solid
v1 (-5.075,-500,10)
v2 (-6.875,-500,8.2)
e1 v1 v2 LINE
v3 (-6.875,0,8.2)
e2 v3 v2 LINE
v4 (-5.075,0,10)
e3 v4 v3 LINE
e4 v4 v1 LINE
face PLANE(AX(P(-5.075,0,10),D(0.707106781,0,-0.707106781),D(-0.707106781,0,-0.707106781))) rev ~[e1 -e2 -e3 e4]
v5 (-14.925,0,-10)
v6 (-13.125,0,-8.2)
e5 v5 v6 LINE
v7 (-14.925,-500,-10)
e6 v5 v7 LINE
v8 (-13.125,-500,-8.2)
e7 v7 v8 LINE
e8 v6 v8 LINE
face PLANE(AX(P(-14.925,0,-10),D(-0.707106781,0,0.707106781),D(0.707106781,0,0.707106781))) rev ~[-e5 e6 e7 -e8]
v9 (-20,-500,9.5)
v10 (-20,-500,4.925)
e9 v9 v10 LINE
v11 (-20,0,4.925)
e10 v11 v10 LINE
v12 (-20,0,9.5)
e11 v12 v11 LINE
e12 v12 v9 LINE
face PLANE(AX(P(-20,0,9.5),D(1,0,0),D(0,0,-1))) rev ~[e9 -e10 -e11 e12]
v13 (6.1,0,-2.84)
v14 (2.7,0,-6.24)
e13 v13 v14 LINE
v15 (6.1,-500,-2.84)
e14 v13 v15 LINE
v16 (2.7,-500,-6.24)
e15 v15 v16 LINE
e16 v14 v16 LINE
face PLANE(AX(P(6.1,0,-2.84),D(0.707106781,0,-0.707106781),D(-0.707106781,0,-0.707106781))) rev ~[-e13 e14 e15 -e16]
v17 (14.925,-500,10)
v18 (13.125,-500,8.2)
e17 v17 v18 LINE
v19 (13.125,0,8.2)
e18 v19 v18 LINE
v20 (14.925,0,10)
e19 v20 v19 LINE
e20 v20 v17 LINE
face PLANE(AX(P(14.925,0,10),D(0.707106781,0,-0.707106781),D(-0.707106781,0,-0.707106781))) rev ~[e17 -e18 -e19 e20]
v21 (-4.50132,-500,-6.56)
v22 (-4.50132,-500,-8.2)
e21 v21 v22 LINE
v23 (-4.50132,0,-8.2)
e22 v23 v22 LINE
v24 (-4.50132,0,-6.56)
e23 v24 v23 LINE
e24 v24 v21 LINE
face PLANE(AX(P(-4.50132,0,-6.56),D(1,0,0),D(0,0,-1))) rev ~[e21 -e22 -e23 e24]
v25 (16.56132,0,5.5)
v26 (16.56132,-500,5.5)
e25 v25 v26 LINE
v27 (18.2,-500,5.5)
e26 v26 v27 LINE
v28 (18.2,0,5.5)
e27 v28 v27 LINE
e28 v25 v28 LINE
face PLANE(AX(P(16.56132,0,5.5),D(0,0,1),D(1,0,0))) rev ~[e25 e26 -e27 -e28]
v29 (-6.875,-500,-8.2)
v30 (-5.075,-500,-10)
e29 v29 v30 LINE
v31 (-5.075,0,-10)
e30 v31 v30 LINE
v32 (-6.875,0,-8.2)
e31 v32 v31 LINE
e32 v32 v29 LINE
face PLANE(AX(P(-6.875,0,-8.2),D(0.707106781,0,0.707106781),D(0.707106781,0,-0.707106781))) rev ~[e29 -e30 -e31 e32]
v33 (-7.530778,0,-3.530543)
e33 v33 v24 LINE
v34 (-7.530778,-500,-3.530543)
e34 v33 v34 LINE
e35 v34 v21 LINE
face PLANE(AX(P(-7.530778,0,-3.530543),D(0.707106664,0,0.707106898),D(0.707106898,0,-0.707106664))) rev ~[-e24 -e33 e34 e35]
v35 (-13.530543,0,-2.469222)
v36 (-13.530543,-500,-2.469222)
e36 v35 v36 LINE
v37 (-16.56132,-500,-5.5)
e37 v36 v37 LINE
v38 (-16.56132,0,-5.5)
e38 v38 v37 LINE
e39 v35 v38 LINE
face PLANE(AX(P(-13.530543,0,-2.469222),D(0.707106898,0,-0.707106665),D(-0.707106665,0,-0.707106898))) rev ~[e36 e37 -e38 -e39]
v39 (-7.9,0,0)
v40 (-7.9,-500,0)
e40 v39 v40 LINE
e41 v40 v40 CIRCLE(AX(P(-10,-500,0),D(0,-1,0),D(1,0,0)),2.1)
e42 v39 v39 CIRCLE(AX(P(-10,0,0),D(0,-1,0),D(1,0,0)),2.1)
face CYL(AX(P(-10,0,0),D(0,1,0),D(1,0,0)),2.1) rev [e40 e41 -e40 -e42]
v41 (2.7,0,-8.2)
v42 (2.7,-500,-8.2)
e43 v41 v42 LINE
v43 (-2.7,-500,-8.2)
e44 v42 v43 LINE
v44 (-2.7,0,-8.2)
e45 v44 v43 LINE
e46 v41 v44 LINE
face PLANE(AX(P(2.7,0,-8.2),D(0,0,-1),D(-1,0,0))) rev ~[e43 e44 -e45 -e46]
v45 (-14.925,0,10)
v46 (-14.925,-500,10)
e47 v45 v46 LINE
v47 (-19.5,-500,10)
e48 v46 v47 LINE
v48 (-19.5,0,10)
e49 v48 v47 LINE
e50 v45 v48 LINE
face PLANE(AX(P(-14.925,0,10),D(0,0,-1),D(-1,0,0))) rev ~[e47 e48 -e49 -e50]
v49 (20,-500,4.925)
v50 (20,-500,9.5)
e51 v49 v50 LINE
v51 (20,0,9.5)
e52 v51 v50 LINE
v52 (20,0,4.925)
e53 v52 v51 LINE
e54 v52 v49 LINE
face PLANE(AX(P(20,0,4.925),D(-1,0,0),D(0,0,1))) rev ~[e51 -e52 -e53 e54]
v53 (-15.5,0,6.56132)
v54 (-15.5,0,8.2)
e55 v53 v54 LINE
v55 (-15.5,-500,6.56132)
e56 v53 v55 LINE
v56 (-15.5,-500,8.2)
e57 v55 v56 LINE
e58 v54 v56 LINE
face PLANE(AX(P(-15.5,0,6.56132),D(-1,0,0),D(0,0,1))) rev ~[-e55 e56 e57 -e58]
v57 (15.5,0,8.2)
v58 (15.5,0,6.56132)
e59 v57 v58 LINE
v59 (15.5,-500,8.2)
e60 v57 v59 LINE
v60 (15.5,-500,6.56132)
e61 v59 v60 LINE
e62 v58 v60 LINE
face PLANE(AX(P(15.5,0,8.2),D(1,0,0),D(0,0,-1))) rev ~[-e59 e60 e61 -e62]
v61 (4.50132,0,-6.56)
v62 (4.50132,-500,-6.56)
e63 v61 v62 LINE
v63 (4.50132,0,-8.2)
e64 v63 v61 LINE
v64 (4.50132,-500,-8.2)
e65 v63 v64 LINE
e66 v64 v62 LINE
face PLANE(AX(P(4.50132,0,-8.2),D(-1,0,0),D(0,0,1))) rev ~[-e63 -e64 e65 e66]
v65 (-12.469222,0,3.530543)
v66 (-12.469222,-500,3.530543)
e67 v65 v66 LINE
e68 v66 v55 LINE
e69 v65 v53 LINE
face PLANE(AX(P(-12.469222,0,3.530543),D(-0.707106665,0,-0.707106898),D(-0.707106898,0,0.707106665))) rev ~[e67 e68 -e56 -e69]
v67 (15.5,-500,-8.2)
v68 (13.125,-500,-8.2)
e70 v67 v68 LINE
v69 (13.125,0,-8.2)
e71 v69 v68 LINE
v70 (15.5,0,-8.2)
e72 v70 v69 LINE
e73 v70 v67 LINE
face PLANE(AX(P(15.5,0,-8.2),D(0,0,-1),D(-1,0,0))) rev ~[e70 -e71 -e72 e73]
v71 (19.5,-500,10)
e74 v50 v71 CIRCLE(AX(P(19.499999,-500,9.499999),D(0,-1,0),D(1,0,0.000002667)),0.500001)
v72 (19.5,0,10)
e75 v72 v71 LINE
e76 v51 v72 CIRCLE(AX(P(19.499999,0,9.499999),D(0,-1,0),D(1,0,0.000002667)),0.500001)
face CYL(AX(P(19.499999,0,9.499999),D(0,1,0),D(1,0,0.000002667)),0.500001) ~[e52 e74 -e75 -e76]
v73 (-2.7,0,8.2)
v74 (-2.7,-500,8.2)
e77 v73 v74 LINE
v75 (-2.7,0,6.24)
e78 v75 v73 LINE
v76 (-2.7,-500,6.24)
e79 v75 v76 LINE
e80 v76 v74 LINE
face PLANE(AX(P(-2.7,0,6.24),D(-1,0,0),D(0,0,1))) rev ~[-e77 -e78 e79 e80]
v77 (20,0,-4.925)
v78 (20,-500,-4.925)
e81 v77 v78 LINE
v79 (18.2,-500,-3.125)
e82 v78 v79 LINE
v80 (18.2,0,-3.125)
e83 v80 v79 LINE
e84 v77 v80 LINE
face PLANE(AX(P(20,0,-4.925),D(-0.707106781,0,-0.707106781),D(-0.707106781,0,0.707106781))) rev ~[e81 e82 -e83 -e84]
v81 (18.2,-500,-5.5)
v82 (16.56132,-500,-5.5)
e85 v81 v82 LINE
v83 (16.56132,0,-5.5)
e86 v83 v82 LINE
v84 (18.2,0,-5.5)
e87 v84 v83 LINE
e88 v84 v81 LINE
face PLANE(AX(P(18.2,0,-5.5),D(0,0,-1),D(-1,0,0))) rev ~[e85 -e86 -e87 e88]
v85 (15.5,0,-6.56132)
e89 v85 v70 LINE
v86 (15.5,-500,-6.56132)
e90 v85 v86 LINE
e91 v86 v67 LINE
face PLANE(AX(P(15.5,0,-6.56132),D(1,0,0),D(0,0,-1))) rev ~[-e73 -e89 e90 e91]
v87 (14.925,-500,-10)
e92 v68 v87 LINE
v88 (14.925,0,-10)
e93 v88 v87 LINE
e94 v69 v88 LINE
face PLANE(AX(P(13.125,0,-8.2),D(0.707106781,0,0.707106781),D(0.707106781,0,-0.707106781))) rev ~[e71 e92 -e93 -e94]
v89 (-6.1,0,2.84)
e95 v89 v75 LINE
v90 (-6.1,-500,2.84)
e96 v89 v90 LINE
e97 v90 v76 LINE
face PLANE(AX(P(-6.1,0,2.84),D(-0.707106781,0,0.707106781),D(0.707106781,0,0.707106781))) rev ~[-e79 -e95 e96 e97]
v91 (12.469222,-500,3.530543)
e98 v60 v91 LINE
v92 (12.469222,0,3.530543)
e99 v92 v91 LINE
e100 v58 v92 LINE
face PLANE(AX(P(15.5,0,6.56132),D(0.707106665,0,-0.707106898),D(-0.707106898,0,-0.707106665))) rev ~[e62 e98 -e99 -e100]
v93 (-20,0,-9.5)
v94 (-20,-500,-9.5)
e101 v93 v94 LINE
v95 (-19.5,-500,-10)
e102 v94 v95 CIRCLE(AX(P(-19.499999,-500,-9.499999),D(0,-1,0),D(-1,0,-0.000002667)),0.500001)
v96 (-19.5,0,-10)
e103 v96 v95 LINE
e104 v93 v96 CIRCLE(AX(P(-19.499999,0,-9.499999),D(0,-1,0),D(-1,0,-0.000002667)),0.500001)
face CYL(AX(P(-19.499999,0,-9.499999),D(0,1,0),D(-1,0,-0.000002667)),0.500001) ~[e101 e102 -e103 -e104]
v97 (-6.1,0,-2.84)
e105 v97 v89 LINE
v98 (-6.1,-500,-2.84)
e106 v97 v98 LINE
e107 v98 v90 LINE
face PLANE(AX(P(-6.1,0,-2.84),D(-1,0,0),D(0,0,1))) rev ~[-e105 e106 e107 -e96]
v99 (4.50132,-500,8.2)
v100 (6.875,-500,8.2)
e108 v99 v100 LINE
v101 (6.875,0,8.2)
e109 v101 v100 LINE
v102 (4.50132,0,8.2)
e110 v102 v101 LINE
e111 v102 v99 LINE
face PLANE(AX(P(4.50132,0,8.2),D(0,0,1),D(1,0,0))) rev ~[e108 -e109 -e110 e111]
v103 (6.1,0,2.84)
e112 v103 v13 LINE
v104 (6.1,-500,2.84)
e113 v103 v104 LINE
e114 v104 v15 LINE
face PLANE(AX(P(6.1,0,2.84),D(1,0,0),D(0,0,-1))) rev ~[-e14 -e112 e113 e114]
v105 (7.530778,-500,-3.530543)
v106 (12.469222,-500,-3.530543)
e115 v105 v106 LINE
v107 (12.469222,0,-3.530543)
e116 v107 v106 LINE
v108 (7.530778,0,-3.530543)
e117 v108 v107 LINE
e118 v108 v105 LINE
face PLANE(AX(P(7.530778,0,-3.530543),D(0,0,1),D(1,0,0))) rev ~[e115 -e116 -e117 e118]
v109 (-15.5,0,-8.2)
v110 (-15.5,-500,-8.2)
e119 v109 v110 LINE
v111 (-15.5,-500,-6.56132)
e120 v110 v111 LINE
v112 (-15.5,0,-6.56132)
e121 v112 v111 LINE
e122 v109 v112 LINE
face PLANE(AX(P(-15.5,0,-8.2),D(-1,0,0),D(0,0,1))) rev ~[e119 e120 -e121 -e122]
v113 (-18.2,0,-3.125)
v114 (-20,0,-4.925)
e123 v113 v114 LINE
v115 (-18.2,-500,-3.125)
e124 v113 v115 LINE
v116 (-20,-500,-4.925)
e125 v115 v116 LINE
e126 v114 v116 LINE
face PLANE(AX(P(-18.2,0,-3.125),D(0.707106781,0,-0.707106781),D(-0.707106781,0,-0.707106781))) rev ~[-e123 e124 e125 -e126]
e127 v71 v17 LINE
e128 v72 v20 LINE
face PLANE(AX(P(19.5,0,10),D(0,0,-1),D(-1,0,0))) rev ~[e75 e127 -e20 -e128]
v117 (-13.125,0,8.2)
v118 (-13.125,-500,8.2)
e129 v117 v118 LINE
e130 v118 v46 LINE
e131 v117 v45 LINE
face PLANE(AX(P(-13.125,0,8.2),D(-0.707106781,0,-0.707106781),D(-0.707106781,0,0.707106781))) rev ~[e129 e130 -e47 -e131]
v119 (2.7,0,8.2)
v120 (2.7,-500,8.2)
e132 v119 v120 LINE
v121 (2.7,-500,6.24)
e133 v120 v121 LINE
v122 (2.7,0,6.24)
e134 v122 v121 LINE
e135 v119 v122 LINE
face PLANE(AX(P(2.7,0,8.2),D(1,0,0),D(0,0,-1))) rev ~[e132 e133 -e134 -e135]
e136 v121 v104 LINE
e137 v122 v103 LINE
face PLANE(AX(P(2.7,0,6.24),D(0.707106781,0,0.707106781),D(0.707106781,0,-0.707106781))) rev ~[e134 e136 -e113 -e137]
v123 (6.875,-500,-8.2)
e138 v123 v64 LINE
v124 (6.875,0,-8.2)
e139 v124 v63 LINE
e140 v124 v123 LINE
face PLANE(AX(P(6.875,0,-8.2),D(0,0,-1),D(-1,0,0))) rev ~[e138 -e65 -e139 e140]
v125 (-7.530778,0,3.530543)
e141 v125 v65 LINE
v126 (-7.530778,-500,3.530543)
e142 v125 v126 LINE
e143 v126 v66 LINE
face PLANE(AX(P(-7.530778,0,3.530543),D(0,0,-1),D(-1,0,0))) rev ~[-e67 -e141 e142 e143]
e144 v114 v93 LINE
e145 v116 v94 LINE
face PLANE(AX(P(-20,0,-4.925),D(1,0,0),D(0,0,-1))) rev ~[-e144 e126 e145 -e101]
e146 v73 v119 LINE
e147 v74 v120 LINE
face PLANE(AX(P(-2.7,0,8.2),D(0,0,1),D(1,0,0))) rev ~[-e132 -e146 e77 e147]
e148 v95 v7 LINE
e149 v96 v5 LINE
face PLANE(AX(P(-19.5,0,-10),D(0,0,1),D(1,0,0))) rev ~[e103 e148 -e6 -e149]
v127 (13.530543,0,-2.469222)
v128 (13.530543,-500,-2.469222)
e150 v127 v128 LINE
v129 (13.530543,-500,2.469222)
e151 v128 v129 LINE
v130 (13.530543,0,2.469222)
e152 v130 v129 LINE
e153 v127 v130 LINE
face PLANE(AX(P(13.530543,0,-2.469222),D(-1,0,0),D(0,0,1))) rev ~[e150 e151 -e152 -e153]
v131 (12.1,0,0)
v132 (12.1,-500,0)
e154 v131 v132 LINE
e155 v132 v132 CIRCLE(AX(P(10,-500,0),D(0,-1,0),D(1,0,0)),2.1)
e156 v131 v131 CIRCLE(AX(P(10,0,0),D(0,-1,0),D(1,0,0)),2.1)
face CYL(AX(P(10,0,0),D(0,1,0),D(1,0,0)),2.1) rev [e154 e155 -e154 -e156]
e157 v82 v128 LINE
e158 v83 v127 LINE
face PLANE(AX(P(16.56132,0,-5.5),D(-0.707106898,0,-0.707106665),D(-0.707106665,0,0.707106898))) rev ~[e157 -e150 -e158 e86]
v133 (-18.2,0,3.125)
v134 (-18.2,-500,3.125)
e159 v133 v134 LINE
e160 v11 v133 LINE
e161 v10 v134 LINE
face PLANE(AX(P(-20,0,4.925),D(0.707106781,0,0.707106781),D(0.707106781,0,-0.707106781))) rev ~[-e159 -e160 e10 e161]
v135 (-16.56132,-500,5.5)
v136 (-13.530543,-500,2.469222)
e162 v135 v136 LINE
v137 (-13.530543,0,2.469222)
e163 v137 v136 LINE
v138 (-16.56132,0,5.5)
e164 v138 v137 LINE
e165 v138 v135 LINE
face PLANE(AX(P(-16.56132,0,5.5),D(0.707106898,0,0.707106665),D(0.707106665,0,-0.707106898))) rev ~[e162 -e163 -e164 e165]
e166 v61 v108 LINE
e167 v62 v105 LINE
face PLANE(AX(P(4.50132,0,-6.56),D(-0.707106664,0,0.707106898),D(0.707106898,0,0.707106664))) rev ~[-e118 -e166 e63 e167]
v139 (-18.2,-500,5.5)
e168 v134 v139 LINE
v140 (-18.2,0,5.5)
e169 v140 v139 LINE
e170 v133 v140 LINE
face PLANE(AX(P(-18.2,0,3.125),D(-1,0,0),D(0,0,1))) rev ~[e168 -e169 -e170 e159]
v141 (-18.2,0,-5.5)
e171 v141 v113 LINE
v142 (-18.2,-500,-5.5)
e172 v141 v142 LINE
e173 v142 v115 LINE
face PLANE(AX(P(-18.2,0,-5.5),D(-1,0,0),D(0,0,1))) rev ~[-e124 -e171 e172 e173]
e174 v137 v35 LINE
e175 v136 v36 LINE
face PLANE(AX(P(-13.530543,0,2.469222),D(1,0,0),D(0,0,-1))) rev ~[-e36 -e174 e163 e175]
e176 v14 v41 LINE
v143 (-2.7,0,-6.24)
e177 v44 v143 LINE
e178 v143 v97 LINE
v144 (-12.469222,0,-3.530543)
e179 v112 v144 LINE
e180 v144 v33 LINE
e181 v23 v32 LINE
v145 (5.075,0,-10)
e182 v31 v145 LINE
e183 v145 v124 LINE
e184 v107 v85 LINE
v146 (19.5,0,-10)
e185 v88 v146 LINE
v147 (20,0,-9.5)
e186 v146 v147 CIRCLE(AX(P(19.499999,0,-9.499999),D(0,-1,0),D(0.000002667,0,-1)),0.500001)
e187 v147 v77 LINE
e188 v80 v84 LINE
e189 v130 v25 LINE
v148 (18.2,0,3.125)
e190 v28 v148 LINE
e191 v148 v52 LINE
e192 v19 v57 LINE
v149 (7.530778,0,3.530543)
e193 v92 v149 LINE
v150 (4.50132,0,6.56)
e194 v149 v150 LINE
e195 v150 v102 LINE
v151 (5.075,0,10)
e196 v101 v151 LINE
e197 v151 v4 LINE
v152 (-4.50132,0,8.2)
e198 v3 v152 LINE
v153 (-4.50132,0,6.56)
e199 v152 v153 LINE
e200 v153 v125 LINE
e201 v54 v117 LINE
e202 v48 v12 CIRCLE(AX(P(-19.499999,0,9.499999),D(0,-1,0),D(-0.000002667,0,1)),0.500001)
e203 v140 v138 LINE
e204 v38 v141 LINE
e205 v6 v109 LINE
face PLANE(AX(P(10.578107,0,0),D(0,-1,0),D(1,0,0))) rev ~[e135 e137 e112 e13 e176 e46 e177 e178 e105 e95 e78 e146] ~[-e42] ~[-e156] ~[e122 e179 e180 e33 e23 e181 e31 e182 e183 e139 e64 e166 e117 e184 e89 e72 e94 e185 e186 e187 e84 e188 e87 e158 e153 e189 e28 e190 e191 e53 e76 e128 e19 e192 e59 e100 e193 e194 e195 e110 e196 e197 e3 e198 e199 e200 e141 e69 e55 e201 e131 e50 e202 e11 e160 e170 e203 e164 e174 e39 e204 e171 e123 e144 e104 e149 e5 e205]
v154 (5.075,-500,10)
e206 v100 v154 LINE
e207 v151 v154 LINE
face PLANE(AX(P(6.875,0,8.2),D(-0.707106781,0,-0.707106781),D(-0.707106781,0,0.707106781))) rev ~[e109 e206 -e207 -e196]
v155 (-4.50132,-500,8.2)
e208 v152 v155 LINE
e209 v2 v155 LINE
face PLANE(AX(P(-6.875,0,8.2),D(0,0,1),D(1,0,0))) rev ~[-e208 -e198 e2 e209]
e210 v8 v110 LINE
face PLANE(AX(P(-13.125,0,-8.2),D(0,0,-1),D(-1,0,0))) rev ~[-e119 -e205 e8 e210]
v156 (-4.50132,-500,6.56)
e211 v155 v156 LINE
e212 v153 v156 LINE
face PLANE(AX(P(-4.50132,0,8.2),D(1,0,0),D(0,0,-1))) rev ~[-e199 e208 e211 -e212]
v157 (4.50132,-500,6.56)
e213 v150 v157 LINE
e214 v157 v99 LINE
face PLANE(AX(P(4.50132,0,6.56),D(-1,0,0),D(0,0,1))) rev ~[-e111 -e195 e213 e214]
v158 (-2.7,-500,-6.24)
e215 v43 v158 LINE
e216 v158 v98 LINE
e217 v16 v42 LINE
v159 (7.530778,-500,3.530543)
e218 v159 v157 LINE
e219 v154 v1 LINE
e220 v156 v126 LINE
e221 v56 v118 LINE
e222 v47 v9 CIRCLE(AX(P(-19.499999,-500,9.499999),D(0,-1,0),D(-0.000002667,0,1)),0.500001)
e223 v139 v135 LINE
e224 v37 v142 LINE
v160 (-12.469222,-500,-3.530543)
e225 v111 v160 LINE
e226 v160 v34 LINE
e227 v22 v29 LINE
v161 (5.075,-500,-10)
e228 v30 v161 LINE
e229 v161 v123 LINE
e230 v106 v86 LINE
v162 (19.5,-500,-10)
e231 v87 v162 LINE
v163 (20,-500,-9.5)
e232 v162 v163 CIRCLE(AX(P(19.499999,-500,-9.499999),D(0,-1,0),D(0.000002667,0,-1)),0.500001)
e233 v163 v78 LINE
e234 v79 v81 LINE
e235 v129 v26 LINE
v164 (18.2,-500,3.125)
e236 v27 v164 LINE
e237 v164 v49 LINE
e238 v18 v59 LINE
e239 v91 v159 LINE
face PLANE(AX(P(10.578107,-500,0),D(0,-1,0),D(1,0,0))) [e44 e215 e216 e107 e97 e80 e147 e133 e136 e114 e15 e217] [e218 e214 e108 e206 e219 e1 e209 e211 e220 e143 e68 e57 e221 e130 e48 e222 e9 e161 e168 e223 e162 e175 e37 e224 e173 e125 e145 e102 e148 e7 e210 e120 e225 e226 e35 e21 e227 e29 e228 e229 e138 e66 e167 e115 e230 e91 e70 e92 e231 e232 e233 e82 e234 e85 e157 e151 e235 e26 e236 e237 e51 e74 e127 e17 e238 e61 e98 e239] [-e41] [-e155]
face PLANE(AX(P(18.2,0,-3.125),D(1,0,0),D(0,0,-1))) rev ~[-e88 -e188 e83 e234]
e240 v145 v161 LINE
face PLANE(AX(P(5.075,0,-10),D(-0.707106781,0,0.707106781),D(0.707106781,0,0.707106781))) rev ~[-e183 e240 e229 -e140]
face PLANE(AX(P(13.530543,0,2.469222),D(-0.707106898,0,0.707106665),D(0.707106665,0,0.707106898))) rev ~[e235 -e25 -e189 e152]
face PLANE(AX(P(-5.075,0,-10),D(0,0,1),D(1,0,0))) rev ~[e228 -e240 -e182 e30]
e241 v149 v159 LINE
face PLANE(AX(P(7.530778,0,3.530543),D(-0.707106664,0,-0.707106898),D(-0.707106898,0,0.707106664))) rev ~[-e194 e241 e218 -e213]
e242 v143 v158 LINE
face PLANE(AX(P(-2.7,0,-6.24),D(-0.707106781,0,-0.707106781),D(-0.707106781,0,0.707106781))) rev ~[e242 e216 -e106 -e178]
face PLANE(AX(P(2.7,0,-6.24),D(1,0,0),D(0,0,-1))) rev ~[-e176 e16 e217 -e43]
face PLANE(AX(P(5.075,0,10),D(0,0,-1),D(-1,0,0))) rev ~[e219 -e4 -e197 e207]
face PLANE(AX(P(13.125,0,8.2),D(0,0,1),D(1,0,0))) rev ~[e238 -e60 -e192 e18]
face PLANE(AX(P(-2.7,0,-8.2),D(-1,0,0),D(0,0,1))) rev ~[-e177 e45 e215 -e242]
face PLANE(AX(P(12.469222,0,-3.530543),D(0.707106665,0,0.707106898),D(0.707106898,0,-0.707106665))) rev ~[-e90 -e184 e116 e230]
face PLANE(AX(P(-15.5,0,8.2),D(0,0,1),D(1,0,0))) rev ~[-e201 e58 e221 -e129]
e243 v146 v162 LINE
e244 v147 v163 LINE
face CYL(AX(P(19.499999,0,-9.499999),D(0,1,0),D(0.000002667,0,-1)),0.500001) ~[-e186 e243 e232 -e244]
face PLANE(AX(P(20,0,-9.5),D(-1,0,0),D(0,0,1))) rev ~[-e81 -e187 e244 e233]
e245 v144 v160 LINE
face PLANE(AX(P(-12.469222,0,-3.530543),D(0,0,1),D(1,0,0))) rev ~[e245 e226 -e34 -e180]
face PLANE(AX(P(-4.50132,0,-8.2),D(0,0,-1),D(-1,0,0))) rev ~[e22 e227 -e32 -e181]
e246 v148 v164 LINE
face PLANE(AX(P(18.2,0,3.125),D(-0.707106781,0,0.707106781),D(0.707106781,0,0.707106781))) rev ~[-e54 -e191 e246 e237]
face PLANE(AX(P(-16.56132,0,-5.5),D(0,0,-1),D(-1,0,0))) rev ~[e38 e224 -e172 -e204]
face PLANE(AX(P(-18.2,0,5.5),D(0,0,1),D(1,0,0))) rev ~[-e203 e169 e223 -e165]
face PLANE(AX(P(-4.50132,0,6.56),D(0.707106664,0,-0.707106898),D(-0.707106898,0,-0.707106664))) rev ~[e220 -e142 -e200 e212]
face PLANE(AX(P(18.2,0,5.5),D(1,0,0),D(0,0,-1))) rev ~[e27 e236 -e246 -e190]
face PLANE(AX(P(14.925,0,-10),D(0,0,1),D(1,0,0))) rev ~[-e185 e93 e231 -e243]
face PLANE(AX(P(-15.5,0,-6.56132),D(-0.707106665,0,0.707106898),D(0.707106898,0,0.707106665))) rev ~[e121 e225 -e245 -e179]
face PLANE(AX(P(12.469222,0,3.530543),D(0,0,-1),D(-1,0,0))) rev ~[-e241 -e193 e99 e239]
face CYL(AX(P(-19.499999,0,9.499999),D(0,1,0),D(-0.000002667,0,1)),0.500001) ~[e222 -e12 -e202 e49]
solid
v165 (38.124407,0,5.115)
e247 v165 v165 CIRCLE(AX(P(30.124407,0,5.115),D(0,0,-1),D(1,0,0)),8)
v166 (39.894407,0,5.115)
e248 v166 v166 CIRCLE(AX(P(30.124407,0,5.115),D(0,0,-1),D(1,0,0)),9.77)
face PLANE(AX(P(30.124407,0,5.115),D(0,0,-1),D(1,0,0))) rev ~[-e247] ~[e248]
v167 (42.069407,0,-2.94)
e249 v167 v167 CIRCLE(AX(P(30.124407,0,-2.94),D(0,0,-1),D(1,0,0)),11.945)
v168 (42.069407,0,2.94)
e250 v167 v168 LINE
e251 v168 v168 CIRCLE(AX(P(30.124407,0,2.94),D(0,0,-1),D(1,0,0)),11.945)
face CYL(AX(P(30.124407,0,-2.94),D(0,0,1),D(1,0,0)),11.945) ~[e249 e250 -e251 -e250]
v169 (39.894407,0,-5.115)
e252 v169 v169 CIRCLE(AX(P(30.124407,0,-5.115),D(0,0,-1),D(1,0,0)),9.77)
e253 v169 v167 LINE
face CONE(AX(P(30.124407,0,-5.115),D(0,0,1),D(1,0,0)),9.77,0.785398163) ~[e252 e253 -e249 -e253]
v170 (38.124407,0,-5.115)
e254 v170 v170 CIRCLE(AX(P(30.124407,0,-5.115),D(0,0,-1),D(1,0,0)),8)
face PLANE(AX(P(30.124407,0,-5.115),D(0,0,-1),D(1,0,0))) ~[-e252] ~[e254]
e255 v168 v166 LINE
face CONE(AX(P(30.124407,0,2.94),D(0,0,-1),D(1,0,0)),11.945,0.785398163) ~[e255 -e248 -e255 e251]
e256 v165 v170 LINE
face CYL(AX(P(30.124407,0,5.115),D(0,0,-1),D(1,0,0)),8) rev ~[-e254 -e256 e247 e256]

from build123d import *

# Parameters (mm, degrees)
F0_R     = 2.1
F1_DEPTH = 500


with BuildPart() as f1:
    # F0 (on Front) → F1 (new body)
    with BuildSketch(Plane.XZ):
        with BuildLine():
            Line((2.7, -6.24), (2.7, -8.2))
            Line((2.7, -8.2), (0, -8.2))
            Line((0, -8.2), (0, -10))
            Line((0, -10), (5.075, -10))
            Line((5.075, -10), (6.875, -8.2))
            Line((6.875, -8.2), (4.50132, -8.2))
            Line((4.50132, -8.2), (4.50132, -6.56))
            Line((4.50132, -6.56), (7.530778, -3.530543))
            Line((7.530778, -3.530543), (10, -3.530543))
            Line((10, -3.530543), (12.469222, -3.530543))
            Line((12.469222, -3.530543), (15.5, -6.56132))
            Line((15.5, -6.56132), (15.5, -8.2))
            Line((15.5, -8.2), (13.125, -8.2))
            Line((13.125, -8.2), (14.925, -10))
            Line((14.925, -10), (19.5, -10))
            ThreePointArc((19.5, -10), (19.853553, -9.853553), (20, -9.5))
            Line((20, -9.5), (20, -4.925))
            Line((20, -4.925), (18.2, -3.125))
            Line((18.2, -3.125), (18.2, -5.5))
            Line((18.2, -5.5), (16.56132, -5.5))
            Line((16.56132, -5.5), (13.530543, -2.469222))
            Line((13.530543, -2.469222), (13.530543, 0))
            Line((13.530543, 0), (13.530543, 2.469222))
            Line((13.530543, 2.469222), (16.56132, 5.5))
            Line((16.56132, 5.5), (18.2, 5.5))
            Line((18.2, 5.5), (18.2, 3.125))
            Line((18.2, 3.125), (20, 4.925))
            Line((20, 4.925), (20, 9.5))
            ThreePointArc((20, 9.5), (19.853553, 9.853553), (19.5, 10))
            Line((19.5, 10), (14.925, 10))
            Line((14.925, 10), (13.125, 8.2))
            Line((13.125, 8.2), (15.5, 8.2))
            Line((15.5, 8.2), (15.5, 6.56132))
            Line((15.5, 6.56132), (12.469222, 3.530543))
            Line((12.469222, 3.530543), (10, 3.530543))
            Line((10, 3.530543), (7.530778, 3.530543))
            Line((7.530778, 3.530543), (4.50132, 6.56))
            Line((4.50132, 6.56), (4.50132, 8.2))
            Line((4.50132, 8.2), (6.875, 8.2))
            Line((6.875, 8.2), (5.075, 10))
            Line((5.075, 10), (0, 10))
            Line((0, 10), (0, 8.2))
            Line((0, 8.2), (2.7, 8.2))
            Line((2.7, 8.2), (2.7, 6.24))
            Line((2.7, 6.24), (6.1, 2.84))
            Line((6.1, 2.84), (6.1, -2.84))
            Line((6.1, -2.84), (2.7, -6.24))
        make_face()
        with Locations((10, 0)):
            Circle(F0_R, mode=Mode.SUBTRACT)
        with BuildLine():
            Line((0, -10), (0, -8.2))
            Line((0, -8.2), (-2.7, -8.2))
            Line((-2.7, -8.2), (-2.7, -6.24))
            Line((-2.7, -6.24), (-6.1, -2.84))
            Line((-6.1, -2.84), (-6.1, 2.84))
            Line((-6.1, 2.84), (-2.7, 6.24))
            Line((-2.7, 6.24), (-2.7, 8.2))
            Line((-2.7, 8.2), (0, 8.2))
            Line((0, 8.2), (0, 10))
            Line((0, 10), (-5.075, 10))
            Line((-5.075, 10), (-6.875, 8.2))
            Line((-6.875, 8.2), (-4.50132, 8.2))
            Line((-4.50132, 8.2), (-4.50132, 6.56))
            Line((-4.50132, 6.56), (-7.530778, 3.530543))
            Line((-7.530778, 3.530543), (-10, 3.530543))
            Line((-10, 3.530543), (-12.469222, 3.530543))
            Line((-12.469222, 3.530543), (-15.5, 6.56132))
            Line((-15.5, 6.56132), (-15.5, 8.2))
            Line((-15.5, 8.2), (-13.125, 8.2))
            Line((-13.125, 8.2), (-14.925, 10))
            Line((-14.925, 10), (-19.5, 10))
            ThreePointArc((-19.5, 10), (-19.853553, 9.853553), (-20, 9.5))
            Line((-20, 9.5), (-20, 4.925))
            Line((-20, 4.925), (-18.2, 3.125))
            Line((-18.2, 3.125), (-18.2, 5.5))
            Line((-18.2, 5.5), (-16.56132, 5.5))
            Line((-16.56132, 5.5), (-13.530543, 2.469222))
            Line((-13.530543, 2.469222), (-13.530543, 0))
            Line((-13.530543, 0), (-13.530543, -2.469222))
            Line((-13.530543, -2.469222), (-16.56132, -5.5))
            Line((-16.56132, -5.5), (-18.2, -5.5))
            Line((-18.2, -5.5), (-18.2, -3.125))
            Line((-18.2, -3.125), (-20, -4.925))
            Line((-20, -4.925), (-20, -9.5))
            ThreePointArc((-20, -9.5), (-19.853553, -9.853553), (-19.5, -10))
            Line((-19.5, -10), (-14.925, -10))
            Line((-14.925, -10), (-13.125, -8.2))
            Line((-13.125, -8.2), (-15.5, -8.2))
            Line((-15.5, -8.2), (-15.5, -6.56132))
            Line((-15.5, -6.56132), (-12.469222, -3.530543))
            Line((-12.469222, -3.530543), (-10, -3.530543))
            Line((-10, -3.530543), (-7.530778, -3.530543))
            Line((-7.530778, -3.530543), (-4.50132, -6.56))
            Line((-4.50132, -6.56), (-4.50132, -8.2))
            Line((-4.50132, -8.2), (-6.875, -8.2))
            Line((-6.875, -8.2), (-5.075, -10))
            Line((-5.075, -10), (0, -10))
        make_face()
        with Locations((-10, 0)):
            Circle(F0_R, mode=Mode.SUBTRACT)
    extrude(amount=F1_DEPTH)


with BuildPart() as f3:
    # F2 (on Front) → F3 (revolve)
    with BuildSketch(Plane.XZ):
        Polygon((42.069407, 2.94), (39.894407, 5.115), (38.124407, 5.115), (38.124407, -5.115), (39.894407, -5.115), (42.069407, -2.94), align=None)
    revolve(axis=Axis((30.124407, 0, 0), (0, 0, -1)))


solid = Compound([f1.part, f3.part])
